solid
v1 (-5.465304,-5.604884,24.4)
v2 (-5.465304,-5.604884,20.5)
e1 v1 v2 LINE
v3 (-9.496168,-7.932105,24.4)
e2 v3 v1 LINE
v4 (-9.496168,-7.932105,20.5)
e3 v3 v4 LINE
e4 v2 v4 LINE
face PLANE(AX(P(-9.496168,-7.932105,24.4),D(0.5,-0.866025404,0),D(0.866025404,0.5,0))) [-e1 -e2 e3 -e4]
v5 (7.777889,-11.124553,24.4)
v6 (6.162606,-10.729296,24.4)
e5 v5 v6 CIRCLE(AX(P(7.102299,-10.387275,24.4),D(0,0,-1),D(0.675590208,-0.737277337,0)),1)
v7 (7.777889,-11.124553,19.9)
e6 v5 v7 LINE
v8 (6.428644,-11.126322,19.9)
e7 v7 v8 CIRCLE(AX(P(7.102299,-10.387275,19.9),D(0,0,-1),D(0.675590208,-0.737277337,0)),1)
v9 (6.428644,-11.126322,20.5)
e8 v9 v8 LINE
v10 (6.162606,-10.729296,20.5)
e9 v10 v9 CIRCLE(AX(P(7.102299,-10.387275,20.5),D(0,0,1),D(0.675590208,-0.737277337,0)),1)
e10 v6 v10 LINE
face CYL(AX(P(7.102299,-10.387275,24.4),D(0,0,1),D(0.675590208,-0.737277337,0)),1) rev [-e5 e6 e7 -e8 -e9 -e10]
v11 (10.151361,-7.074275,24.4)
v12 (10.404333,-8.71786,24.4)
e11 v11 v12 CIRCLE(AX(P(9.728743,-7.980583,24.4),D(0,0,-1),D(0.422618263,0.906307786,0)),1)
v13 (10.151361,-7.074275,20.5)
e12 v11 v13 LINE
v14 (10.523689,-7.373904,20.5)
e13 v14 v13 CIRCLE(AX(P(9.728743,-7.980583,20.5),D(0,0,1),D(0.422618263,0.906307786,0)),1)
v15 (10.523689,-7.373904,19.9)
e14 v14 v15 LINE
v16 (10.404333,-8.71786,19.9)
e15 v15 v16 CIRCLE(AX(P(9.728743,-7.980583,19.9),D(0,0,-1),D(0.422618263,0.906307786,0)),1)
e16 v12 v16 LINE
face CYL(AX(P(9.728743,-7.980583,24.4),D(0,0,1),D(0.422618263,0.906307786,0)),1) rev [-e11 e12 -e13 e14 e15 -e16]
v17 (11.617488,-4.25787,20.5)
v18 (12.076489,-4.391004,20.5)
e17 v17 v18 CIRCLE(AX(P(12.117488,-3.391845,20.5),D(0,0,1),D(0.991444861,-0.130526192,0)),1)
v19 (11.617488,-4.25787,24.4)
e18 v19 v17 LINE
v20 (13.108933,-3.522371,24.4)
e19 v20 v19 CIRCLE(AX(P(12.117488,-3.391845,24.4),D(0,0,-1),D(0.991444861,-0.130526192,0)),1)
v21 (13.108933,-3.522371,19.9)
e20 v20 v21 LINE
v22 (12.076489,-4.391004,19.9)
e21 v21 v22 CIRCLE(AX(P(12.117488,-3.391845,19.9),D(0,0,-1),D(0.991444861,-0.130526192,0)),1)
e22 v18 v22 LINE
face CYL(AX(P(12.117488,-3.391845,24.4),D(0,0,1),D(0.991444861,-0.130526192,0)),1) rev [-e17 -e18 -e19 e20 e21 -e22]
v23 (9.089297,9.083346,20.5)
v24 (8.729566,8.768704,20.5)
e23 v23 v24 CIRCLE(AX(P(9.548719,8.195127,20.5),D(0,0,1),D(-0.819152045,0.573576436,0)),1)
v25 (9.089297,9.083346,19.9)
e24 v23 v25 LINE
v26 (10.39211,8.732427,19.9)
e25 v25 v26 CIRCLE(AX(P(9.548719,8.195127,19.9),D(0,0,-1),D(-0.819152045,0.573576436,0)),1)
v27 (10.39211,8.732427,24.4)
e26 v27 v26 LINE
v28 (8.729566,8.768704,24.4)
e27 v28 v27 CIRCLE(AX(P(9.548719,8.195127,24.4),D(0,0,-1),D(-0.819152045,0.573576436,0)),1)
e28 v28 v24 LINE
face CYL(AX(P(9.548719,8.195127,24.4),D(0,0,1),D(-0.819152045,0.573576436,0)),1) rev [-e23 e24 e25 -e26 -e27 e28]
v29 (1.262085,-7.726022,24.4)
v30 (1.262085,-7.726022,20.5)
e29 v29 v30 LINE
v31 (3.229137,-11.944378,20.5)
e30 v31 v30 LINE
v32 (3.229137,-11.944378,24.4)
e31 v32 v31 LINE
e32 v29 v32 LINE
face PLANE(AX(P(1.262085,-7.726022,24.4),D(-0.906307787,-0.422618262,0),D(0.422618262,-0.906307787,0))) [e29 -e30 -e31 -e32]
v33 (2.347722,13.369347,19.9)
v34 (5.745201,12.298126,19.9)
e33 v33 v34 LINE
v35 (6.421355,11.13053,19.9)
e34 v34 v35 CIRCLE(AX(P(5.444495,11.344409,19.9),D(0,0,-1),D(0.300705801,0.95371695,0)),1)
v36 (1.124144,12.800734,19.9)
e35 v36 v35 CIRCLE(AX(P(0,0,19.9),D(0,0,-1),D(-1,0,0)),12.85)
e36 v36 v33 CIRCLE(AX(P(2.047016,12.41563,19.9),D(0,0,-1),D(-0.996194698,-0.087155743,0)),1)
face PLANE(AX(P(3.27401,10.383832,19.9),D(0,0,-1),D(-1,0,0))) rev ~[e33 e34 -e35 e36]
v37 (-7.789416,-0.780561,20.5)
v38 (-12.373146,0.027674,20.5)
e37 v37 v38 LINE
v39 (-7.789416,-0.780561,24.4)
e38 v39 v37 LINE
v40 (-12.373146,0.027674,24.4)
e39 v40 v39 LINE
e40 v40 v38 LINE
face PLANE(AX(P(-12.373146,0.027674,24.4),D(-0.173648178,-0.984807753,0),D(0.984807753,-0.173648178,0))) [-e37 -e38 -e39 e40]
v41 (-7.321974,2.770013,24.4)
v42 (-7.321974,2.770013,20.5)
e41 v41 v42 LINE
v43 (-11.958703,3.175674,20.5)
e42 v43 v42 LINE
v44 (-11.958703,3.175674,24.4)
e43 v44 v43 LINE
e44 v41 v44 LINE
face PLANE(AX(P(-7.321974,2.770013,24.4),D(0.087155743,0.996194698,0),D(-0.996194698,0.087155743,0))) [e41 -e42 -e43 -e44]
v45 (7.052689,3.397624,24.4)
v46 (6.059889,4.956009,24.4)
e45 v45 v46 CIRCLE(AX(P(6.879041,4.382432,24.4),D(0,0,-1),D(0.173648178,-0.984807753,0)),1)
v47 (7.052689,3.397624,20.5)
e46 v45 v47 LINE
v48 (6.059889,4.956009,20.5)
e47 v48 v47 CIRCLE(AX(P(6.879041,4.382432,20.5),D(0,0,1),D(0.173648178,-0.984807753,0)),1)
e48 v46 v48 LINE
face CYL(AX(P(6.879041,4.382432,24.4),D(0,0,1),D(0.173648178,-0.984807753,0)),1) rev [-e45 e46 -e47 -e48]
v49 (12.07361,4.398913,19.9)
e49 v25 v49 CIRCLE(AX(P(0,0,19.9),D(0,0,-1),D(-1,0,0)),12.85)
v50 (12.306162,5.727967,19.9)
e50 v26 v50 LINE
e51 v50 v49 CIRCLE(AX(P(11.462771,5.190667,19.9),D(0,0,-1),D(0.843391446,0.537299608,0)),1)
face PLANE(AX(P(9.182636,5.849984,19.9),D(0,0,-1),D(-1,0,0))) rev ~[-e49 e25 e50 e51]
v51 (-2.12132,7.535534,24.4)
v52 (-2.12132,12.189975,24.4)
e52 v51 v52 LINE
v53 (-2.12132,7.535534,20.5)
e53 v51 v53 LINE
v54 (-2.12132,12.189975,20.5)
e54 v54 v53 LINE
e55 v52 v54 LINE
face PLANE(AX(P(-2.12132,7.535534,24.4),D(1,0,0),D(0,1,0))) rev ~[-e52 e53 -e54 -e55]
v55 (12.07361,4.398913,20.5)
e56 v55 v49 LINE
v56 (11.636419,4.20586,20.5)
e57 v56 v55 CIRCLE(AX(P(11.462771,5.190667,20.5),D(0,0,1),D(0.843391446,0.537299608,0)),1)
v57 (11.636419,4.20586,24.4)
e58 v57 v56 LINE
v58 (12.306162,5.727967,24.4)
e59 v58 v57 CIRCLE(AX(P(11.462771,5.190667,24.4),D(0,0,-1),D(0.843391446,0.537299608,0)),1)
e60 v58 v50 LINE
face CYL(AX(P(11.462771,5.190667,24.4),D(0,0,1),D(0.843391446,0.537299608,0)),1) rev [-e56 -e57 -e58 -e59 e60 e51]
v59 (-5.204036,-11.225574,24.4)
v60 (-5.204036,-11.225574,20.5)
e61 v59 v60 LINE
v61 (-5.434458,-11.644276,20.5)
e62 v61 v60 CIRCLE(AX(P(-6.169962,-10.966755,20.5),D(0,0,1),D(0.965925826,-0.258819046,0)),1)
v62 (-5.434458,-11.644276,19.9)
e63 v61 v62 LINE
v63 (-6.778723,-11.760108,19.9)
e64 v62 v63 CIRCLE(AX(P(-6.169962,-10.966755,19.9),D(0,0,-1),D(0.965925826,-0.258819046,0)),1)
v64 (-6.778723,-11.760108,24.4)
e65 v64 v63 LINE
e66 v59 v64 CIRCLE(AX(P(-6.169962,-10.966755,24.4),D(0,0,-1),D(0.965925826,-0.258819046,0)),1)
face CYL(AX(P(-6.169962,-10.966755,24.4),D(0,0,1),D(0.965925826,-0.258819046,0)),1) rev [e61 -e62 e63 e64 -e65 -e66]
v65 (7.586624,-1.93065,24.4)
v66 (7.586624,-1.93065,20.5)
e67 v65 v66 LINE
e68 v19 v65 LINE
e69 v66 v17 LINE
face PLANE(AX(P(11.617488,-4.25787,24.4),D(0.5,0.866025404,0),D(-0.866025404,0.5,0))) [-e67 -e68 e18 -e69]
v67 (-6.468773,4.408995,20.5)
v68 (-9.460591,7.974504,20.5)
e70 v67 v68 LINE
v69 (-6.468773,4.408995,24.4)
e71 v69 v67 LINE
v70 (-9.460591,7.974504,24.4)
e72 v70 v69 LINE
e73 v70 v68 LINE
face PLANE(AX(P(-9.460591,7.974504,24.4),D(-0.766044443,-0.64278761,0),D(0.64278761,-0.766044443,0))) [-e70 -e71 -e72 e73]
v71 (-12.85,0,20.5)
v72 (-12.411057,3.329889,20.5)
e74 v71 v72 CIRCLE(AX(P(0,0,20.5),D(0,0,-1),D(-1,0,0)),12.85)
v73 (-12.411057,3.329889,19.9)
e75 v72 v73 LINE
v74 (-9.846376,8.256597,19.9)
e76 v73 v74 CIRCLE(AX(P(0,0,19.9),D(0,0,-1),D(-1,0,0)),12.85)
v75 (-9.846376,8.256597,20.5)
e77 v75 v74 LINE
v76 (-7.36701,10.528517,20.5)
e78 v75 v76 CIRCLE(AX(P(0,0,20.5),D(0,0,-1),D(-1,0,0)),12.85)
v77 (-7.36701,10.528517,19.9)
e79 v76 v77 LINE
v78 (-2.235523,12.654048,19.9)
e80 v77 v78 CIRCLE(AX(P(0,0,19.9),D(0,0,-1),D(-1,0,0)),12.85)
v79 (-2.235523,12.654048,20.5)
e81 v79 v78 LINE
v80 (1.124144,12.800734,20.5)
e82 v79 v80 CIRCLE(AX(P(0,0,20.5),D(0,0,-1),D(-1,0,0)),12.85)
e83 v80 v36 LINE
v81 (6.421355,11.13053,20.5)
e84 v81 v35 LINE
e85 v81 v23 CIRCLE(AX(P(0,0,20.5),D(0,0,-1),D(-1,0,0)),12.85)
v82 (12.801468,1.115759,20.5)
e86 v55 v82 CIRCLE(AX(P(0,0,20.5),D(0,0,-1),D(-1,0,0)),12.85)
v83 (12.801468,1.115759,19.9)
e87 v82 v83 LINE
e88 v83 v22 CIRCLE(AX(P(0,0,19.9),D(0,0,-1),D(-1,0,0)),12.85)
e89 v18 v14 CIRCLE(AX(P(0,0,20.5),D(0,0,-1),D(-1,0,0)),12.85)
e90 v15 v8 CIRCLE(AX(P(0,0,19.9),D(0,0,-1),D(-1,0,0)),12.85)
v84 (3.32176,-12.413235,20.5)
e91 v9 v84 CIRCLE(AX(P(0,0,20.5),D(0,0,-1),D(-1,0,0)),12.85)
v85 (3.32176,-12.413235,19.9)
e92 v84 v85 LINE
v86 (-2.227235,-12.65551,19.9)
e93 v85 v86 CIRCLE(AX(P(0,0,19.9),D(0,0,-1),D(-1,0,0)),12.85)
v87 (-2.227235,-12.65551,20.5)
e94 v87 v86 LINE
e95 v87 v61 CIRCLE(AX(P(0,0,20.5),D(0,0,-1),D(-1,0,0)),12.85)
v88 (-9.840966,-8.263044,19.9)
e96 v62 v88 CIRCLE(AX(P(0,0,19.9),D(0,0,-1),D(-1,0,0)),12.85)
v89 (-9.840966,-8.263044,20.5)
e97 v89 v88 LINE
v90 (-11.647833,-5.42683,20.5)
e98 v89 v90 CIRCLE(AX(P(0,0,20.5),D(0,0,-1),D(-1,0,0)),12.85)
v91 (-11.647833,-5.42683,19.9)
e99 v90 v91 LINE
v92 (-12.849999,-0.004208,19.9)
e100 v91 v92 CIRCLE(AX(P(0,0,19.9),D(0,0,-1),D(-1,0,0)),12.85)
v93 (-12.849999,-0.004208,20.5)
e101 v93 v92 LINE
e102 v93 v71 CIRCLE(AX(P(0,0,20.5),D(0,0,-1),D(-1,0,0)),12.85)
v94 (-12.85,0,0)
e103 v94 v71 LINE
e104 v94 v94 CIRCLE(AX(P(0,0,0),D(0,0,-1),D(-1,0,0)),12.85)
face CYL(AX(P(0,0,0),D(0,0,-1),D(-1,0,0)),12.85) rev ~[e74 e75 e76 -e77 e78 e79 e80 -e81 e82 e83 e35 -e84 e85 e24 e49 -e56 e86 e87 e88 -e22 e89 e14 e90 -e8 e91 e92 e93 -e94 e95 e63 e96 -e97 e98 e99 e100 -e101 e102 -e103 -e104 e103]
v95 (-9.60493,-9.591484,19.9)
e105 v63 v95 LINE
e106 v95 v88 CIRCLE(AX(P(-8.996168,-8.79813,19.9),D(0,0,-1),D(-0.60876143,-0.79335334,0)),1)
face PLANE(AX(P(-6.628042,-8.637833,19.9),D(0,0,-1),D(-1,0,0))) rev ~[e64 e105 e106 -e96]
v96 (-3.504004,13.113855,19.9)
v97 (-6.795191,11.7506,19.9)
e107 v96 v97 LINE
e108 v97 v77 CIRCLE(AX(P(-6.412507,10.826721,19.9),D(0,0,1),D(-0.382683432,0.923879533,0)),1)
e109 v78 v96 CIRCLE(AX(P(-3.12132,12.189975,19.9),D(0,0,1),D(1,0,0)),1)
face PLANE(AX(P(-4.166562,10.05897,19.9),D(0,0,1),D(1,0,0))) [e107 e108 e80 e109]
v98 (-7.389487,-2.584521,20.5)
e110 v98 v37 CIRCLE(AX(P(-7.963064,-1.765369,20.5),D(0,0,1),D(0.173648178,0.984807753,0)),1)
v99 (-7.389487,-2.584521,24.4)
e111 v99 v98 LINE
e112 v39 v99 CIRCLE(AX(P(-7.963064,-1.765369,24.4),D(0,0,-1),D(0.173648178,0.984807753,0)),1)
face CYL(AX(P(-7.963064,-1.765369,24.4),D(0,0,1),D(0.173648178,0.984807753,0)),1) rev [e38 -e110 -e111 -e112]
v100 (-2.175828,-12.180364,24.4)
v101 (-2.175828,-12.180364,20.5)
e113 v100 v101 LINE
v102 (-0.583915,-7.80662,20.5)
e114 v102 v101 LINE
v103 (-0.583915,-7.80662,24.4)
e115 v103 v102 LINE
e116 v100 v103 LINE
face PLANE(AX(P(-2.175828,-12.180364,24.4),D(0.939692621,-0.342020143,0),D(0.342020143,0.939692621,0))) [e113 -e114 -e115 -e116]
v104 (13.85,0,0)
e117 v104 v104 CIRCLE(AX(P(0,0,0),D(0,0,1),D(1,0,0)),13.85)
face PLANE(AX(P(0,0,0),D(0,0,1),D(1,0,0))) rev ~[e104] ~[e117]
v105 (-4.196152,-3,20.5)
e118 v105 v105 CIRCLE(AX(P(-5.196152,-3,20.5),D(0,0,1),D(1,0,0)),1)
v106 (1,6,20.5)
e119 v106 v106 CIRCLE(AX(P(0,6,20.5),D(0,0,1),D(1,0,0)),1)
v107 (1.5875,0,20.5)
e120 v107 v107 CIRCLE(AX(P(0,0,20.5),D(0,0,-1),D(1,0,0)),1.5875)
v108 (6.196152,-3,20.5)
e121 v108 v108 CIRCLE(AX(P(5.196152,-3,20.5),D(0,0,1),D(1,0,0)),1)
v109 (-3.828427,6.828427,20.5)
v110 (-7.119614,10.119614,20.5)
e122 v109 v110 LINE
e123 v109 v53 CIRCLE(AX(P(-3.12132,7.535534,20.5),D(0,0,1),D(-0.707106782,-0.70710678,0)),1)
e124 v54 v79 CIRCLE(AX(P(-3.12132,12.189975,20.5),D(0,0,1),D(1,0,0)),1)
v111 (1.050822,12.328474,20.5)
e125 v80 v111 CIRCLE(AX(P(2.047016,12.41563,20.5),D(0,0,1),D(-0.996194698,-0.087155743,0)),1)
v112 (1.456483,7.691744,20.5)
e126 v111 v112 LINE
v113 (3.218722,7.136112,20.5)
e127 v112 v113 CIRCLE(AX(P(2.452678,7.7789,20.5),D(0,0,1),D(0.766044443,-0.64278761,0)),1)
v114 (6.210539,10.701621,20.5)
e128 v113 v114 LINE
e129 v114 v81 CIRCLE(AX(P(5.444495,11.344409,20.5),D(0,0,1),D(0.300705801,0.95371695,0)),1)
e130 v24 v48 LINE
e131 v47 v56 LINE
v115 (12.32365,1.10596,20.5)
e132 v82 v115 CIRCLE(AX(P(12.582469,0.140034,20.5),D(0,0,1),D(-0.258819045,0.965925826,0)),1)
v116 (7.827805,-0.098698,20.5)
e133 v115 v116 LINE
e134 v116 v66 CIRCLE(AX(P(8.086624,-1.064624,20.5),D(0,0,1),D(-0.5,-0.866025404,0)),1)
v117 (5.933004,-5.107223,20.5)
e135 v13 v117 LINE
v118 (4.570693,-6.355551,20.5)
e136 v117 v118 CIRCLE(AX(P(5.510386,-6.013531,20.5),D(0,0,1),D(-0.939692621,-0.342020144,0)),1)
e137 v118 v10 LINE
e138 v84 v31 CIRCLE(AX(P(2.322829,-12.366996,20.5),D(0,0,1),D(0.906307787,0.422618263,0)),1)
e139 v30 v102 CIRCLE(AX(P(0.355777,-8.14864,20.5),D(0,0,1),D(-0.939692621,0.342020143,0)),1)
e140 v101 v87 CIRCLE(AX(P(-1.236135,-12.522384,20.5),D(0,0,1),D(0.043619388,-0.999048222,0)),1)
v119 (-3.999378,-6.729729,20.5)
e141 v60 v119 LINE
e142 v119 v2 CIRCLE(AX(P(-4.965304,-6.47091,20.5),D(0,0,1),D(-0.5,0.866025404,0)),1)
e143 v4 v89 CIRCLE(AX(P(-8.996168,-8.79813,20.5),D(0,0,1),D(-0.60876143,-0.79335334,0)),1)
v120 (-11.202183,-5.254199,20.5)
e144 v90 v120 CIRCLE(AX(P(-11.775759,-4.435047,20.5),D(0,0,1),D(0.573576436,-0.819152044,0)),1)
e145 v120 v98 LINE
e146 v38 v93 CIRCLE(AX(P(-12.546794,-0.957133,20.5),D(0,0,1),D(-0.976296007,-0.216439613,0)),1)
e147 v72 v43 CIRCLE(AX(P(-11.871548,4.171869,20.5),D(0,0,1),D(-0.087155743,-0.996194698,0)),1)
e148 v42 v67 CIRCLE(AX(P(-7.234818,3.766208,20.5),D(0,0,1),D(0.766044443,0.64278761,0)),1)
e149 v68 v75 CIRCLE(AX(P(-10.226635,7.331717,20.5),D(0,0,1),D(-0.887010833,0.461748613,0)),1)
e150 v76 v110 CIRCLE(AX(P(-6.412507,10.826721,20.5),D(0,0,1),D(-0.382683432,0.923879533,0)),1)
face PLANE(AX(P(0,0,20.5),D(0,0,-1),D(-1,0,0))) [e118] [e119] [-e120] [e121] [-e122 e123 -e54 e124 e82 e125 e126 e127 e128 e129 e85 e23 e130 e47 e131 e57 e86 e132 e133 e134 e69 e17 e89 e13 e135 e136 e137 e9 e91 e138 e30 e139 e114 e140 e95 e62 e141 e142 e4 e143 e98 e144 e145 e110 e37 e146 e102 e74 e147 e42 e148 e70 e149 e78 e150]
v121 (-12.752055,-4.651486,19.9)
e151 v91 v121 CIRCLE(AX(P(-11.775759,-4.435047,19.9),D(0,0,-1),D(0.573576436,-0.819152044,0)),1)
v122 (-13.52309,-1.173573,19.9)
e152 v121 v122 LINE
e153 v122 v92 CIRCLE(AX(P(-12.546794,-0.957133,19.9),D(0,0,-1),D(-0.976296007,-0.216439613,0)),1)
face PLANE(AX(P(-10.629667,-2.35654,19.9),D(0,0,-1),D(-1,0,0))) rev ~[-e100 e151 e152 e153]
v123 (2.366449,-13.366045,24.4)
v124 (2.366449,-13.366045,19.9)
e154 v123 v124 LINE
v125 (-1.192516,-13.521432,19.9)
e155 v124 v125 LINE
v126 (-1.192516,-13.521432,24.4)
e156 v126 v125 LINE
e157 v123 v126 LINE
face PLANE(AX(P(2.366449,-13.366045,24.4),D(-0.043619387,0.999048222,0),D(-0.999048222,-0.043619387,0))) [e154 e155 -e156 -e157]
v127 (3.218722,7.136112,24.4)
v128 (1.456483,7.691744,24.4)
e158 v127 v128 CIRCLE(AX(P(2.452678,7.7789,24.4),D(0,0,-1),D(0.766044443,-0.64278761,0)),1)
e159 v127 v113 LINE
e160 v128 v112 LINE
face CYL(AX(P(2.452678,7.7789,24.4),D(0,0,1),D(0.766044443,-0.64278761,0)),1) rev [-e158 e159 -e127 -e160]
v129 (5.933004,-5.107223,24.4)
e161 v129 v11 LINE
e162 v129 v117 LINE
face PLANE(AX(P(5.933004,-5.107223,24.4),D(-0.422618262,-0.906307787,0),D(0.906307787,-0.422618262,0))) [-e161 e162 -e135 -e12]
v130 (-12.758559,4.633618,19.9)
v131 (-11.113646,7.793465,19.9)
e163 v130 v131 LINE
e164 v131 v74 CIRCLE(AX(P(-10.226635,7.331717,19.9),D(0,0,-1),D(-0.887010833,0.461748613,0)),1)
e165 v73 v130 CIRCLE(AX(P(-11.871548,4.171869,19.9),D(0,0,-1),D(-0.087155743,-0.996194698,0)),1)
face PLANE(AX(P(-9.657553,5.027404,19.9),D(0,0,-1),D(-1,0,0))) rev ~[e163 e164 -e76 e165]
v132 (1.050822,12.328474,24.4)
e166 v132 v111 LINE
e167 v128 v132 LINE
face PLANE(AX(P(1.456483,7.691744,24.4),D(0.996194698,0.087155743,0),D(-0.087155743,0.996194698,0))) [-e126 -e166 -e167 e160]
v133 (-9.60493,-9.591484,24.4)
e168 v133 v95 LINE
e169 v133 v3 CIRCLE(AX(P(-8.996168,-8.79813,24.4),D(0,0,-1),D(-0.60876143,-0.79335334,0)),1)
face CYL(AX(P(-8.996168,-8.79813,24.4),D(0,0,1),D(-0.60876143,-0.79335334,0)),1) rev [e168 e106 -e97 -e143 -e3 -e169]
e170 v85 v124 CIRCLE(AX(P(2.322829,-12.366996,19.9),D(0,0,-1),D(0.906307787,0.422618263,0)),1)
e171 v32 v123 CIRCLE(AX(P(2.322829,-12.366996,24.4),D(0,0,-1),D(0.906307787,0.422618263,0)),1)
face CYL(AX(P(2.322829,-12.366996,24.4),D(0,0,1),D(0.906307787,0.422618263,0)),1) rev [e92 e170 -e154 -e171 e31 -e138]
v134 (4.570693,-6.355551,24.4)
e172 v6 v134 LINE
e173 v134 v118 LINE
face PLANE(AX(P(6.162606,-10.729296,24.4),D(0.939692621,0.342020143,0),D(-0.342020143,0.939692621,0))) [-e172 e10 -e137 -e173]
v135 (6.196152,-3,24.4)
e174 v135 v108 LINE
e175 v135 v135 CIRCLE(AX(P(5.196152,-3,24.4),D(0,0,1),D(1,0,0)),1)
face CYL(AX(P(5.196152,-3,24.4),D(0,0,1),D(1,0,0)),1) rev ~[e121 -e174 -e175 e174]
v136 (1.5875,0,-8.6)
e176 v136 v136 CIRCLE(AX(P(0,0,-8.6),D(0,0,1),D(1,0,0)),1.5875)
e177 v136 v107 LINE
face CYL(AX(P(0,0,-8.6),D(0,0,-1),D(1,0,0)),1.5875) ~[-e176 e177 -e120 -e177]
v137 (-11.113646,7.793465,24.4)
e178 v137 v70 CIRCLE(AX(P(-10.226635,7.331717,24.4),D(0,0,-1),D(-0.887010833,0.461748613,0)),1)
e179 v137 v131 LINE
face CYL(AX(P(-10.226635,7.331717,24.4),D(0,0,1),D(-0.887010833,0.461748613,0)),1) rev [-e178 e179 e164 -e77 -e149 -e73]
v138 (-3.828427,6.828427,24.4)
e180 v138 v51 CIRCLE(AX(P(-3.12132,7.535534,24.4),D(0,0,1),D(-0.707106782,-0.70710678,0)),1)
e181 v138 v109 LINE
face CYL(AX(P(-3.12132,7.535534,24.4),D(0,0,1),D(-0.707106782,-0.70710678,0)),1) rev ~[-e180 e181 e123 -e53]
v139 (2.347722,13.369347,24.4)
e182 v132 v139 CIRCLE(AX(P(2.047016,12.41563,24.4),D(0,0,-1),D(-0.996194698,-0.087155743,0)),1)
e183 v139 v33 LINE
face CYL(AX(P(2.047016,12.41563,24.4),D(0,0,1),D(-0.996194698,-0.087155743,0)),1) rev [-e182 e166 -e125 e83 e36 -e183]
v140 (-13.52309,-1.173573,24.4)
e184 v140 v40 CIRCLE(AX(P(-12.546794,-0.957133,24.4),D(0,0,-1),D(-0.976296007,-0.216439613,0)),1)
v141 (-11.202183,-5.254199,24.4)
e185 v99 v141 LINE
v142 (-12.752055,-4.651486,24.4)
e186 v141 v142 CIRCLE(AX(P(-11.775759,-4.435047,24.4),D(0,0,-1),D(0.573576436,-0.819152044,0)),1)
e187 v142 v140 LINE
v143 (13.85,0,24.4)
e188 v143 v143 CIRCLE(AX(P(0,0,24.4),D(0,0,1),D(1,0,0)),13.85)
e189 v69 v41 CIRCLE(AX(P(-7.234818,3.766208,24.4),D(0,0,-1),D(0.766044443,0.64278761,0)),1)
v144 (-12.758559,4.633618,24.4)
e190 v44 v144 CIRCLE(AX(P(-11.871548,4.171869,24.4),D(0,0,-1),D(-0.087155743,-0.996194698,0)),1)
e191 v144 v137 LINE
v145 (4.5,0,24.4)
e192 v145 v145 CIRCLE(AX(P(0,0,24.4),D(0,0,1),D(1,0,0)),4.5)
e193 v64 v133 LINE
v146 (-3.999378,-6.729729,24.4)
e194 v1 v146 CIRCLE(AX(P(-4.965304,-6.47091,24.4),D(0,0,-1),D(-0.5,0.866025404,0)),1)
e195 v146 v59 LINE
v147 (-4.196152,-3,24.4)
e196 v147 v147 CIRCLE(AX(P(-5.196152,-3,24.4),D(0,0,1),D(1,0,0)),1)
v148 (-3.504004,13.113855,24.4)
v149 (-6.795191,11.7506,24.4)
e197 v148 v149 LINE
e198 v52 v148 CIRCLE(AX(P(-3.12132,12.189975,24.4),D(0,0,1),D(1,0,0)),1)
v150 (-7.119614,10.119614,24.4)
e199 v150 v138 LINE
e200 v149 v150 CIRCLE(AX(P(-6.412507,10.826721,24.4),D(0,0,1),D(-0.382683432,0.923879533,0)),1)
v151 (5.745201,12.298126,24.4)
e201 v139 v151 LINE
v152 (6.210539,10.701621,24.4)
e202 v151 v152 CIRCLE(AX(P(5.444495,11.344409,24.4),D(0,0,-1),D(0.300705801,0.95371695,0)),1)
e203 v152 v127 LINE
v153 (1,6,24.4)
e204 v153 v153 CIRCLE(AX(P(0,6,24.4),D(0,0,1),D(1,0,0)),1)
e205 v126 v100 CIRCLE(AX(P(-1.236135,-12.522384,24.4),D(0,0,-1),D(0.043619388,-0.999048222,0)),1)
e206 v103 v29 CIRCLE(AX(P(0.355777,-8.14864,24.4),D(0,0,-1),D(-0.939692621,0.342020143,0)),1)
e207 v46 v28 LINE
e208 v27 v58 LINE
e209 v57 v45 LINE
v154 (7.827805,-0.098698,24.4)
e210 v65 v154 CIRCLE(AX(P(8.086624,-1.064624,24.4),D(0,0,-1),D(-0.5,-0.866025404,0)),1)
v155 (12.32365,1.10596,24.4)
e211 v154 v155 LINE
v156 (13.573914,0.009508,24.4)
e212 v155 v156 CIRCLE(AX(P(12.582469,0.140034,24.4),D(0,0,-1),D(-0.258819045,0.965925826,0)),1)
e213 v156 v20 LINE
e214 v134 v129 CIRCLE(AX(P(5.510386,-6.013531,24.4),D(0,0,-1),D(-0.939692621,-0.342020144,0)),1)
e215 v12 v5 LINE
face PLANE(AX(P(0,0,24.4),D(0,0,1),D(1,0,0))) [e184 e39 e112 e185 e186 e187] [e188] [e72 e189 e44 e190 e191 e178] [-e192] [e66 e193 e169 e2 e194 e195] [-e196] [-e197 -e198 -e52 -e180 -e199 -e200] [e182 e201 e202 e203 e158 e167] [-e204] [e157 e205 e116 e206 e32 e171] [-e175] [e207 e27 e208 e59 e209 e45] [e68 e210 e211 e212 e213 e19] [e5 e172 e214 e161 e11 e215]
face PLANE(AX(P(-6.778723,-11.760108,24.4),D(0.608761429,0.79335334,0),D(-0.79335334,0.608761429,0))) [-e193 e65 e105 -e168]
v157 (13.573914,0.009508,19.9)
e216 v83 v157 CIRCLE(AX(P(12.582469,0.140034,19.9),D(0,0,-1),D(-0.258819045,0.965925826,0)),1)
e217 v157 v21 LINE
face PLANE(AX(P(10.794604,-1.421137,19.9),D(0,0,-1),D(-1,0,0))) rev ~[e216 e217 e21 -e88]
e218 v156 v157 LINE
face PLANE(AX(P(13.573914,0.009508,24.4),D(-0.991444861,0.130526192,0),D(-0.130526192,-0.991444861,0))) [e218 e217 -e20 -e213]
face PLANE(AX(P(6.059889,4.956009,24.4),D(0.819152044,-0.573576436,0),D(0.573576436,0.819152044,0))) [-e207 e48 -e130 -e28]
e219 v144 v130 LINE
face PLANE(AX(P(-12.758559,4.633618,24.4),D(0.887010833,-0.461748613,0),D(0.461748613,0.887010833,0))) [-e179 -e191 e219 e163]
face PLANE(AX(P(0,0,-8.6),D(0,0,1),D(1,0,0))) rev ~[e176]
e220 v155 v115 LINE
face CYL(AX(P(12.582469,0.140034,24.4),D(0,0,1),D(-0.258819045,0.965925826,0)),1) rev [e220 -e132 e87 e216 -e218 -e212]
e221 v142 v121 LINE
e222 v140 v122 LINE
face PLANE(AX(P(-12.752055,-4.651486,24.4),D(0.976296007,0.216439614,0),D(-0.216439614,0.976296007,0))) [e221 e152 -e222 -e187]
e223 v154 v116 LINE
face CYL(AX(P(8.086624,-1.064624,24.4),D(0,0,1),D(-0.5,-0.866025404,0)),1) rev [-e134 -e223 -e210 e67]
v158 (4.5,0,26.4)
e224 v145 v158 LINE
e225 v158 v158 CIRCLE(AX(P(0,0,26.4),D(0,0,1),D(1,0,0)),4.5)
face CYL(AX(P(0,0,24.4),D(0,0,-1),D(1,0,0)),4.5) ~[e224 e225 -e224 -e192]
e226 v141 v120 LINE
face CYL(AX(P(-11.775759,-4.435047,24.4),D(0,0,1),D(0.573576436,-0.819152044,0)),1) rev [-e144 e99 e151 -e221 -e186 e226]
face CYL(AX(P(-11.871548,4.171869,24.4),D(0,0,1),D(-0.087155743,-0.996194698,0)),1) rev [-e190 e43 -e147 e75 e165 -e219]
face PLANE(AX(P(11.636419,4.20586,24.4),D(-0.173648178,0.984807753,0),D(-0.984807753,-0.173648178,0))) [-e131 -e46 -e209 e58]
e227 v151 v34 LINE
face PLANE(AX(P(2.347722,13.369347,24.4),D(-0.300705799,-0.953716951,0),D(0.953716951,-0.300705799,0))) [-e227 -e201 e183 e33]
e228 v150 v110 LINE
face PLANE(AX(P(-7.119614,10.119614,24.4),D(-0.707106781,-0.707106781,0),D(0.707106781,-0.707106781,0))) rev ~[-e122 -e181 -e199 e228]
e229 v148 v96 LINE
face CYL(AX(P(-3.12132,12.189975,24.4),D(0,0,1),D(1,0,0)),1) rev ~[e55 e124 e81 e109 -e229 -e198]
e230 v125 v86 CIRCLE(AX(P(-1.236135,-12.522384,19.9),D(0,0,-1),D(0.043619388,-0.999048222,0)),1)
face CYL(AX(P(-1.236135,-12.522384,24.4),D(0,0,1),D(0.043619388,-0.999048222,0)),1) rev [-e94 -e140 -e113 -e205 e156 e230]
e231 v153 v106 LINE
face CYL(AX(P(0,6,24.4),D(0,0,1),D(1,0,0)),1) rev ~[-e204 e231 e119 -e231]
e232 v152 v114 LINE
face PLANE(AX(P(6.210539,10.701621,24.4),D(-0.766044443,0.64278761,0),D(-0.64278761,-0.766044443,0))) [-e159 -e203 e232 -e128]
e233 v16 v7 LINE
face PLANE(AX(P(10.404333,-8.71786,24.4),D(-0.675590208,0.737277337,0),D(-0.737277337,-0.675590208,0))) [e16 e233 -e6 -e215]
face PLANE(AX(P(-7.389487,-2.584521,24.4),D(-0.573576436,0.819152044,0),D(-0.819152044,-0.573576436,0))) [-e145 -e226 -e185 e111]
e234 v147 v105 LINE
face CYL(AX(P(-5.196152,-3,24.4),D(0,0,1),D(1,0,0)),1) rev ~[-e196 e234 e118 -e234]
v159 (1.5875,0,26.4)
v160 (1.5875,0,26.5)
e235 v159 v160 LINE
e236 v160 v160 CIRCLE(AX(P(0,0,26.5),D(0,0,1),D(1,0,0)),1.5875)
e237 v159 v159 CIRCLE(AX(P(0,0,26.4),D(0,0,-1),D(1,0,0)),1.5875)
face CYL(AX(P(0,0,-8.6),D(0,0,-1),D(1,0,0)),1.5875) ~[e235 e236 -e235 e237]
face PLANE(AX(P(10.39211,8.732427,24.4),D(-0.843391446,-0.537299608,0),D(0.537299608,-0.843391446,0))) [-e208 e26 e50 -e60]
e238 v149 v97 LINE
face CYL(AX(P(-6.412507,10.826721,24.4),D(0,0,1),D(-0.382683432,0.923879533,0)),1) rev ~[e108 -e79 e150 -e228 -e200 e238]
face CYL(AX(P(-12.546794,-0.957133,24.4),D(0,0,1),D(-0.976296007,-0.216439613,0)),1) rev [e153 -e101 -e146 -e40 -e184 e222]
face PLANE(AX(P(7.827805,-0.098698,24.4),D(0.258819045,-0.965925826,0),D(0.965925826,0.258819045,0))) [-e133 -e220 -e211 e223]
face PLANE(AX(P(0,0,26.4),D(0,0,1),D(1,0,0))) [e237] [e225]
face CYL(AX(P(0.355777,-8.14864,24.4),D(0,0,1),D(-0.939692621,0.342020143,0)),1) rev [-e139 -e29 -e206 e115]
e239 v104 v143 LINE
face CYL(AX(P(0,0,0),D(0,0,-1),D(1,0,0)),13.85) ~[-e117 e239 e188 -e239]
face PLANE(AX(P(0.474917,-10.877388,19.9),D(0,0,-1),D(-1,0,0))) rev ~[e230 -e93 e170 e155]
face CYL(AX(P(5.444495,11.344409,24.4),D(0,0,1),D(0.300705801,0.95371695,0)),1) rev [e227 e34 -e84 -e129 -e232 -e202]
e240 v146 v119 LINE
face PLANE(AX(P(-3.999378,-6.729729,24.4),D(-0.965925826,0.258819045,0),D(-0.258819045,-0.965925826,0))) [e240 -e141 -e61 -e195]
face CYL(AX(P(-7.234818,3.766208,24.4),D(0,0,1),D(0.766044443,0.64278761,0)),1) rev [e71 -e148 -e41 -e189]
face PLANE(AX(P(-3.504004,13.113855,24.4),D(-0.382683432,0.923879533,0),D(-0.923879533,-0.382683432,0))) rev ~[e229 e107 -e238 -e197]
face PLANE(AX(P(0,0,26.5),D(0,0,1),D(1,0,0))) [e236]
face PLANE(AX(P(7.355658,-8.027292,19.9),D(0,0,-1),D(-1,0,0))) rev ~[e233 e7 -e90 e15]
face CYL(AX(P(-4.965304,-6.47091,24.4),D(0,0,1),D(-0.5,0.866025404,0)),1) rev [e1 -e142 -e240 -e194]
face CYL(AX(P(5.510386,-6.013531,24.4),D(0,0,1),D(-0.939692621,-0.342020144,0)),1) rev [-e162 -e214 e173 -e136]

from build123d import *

# Parameters (mm, degrees)
SKETCH1_R                = 13.85
BOSS_EXTRUDE1_DEPTH      = 24.4
SKETCH2_R                = 12.85
CUT_EXTRUDE1_DEPTH       = 20.5
SKETCH3_R                = 1
CUT_EXTRUDE2_DEPTH       = 4.5
SKETCH4_R                = 4.5
BOSS_EXTRUDE2_DEPTH      = 2
BOSS_EXTRUDE3_DEPTH      = 0.1
BOSS_EXTRUDE3_DEPTH_BACK = 35
SKETCH5_R                = 1.5875


with BuildPart() as part:
    # Sketch1 → Boss-Extrude1 (new body)
    with BuildSketch(Plane.XY):
        Circle(SKETCH1_R)
    extrude(amount=BOSS_EXTRUDE1_DEPTH)

    # Sketch2 → Cut-Extrude1 (cut)
    with BuildSketch(Plane(origin=(0, 0, 0), x_dir=(-1, 0, 0), z_dir=(0, 0, -1))):
        Circle(SKETCH2_R)
    extrude(amount=-CUT_EXTRUDE1_DEPTH, mode=Mode.SUBTRACT)

    # Sketch3 → Cut-Extrude2 (cut)
    with BuildSketch(Plane.XY.offset(24.4)):
        with Locations((0, 6)):
            Circle(SKETCH3_R)
        with Locations((5.196152423, -3)):
            Circle(SKETCH3_R)
        with Locations((-5.196152423, -3)):
            Circle(SKETCH3_R)
        with BuildLine():
            Line((1.456483025, 7.691744175), (1.050821732, 12.328473971))
            ThreePointArc((1.050821732, 12.328473971), (1.421092958, 13.195514197), (2.347722229, 13.369346664))
            Line((2.347722229, 13.369346664), (5.745200753, 12.298125801))
            ThreePointArc((5.745200753, 12.298125801), (6.404544807, 11.624237864), (6.210539396, 10.70162124))
            Line((6.210539396, 10.70162124), (3.218722166, 7.136112308))
            ThreePointArc((3.218722166, 7.136112308), (2.151971923, 6.825182967), (1.456483025, 7.691744175))
        make_face()
        with BuildLine():
            Line((-2.121320344, 7.535533906), (-2.121320344, 12.189975257))
            ThreePointArc((-2.121320344, 12.189975257), (-2.565750111, 13.021444869), (-3.504003776, 13.113854789))
            Line((-3.504003776, 13.113854789), (-6.795190818, 11.75060048))
            ThreePointArc((-6.795190818, 11.75060048), (-7.393292666, 11.02181127), (-7.119614167, 10.119614167))
            Line((-7.119614167, 10.119614167), (-3.828427125, 6.828427125))
            ThreePointArc((-3.828427125, 6.828427125), (-2.738636911, 6.611654373), (-2.121320344, 7.535533906))
        make_face()
        with BuildLine():
            Line((6.05988858, 4.956008641), (8.729566463, 8.768703788))
            ThreePointArc((8.729566463, 8.768703788), (9.570533392, 9.194889379), (10.392109953, 8.73242696))
            Line((10.392109953, 8.73242696), (12.306161998, 5.727967071))
            ThreePointArc((12.306161998, 5.727967071), (12.378082031, 4.787920773), (11.63641873, 4.20585971))
            Line((11.63641873, 4.20585971), (7.052688802, 3.397624451))
            ThreePointArc((7.052688802, 3.397624451), (6.035649178, 3.845132596), (6.05988858, 4.956008641))
        make_face()
        with BuildLine():
            Line((7.82780492, -0.098698416), (12.323650028, 1.10595965))
            ThreePointArc((12.323650028, 1.10595965), (13.241814888, 0.891873631), (13.573913934, 0.009507632))
            Line((13.573913934, 0.009507632), (13.108933277, -3.52237111))
            ThreePointArc((13.108933277, -3.52237111), (12.559777106, -4.288717659), (11.617488416, -4.257870321))
            Line((11.617488416, -4.257870321), (7.586623965, -1.930649646))
            ThreePointArc((7.586623965, -1.930649646), (7.095179104, -0.93409805), (7.82780492, -0.098698416))
        make_face()
        with BuildLine():
            Line((5.933004342, -5.107223387), (10.151360783, -7.0742753))
            ThreePointArc((10.151360783, -7.0742753), (10.717104031, -7.828459701), (10.404332729, -8.717860424))
            Line((10.404332729, -8.717860424), (7.777888986, -11.124552702))
            ThreePointArc((7.777888986, -11.124552702), (6.864612886, -11.358617435), (6.162606158, -10.729295508))
            Line((6.162606158, -10.729295508), (4.57069346, -6.355551317))
            ThreePointArc((4.57069346, -6.355551317), (4.834795873, -5.276253837), (5.933004342, -5.107223387))
        make_face()
        with BuildLine():
            Line((1.262085094, -7.726021775), (3.229137007, -11.944378215))
            ThreePointArc((3.229137007, -11.944378215), (3.177741091, -12.885769735), (2.366448608, -13.366044698))
            Line((2.366448608, -13.366044698), (-1.192516003, -13.521432449))
            ThreePointArc((-1.192516003, -13.521432449), (-2.042579995, -13.113693876), (-2.175828011, -12.180364084))
            Line((-2.175828011, -12.180364084), (-0.583915313, -7.806619893))
            ThreePointArc((-0.583915313, -7.806619893), (0.31215792, -7.149591815), (1.262085094, -7.726021775))
        make_face()
        with BuildLine():
            Line((-3.999377796, -6.729728709), (-5.204035861, -11.225573817))
            ThreePointArc((-5.204035861, -11.225573817), (-5.848522222, -11.913684901), (-6.778723117, -11.760108112))
            Line((-6.778723117, -11.760108112), (-9.604929501, -9.59148368))
            ThreePointArc((-9.604929501, -9.59148368), (-9.994026995, -8.73272721), (-9.496168072, -7.932104935))
            Line((-9.496168072, -7.932104935), (-5.465303622, -5.60488426))
            ThreePointArc((-5.465303622, -5.60488426), (-4.356542193, -5.677556324), (-3.999377796, -6.729728709))
        make_face()
        with BuildLine():
            Line((-7.389487367, -2.584520788), (-11.202182514, -5.254198671))
            ThreePointArc((-11.202182514, -5.254198671), (-12.138196989, -5.367054496), (-12.752054958, -4.651486241))
            Line((-12.752054958, -4.651486241), (-13.523089739, -1.173573099))
            ThreePointArc((-13.523089739, -1.173573099), (-13.269157693, -0.265620429), (-12.373145554, 0.027674268))
            Line((-12.373145554, 0.027674268), (-7.789415626, -0.78056099))
            ThreePointArc((-7.789415626, -0.78056099), (-6.986767796, -1.54892913), (-7.389487367, -2.584520788))
        make_face()
        with BuildLine():
            Line((-7.321973674, 2.770013134), (-11.95870347, 3.175674427))
            ThreePointArc((-11.95870347, 3.175674427), (-12.748274483, 3.690880356), (-12.758558561, 4.633617738))
            Line((-12.758558561, 4.633617738), (-11.113645995, 7.793465378))
            ThreePointArc((-11.113645995, 7.793465378), (-10.335502037, 8.325773103), (-9.460590719, 7.974504374))
            Line((-9.460590719, 7.974504374), (-6.468773488, 4.408995442))
            ThreePointArc((-6.468773488, 4.408995442), (-6.347807098, 3.304459219), (-7.321973674, 2.770013134))
        make_face()
    extrude(amount=-CUT_EXTRUDE2_DEPTH, mode=Mode.SUBTRACT)

    # Sketch4 → Boss-Extrude2 (add)
    with BuildSketch(Plane.XY.offset(24.4)):
        Circle(SKETCH4_R)
    extrude(amount=BOSS_EXTRUDE2_DEPTH)

    # Sketch5 → Boss-Extrude3 (add, two sides: drawn at the far end of the back side and taken through both)
    with BuildSketch(Plane.XY.offset(26.4).offset(-BOSS_EXTRUDE3_DEPTH_BACK)):
        Circle(SKETCH5_R)
    extrude(amount=BOSS_EXTRUDE3_DEPTH + BOSS_EXTRUDE3_DEPTH_BACK)


solid = part.part
